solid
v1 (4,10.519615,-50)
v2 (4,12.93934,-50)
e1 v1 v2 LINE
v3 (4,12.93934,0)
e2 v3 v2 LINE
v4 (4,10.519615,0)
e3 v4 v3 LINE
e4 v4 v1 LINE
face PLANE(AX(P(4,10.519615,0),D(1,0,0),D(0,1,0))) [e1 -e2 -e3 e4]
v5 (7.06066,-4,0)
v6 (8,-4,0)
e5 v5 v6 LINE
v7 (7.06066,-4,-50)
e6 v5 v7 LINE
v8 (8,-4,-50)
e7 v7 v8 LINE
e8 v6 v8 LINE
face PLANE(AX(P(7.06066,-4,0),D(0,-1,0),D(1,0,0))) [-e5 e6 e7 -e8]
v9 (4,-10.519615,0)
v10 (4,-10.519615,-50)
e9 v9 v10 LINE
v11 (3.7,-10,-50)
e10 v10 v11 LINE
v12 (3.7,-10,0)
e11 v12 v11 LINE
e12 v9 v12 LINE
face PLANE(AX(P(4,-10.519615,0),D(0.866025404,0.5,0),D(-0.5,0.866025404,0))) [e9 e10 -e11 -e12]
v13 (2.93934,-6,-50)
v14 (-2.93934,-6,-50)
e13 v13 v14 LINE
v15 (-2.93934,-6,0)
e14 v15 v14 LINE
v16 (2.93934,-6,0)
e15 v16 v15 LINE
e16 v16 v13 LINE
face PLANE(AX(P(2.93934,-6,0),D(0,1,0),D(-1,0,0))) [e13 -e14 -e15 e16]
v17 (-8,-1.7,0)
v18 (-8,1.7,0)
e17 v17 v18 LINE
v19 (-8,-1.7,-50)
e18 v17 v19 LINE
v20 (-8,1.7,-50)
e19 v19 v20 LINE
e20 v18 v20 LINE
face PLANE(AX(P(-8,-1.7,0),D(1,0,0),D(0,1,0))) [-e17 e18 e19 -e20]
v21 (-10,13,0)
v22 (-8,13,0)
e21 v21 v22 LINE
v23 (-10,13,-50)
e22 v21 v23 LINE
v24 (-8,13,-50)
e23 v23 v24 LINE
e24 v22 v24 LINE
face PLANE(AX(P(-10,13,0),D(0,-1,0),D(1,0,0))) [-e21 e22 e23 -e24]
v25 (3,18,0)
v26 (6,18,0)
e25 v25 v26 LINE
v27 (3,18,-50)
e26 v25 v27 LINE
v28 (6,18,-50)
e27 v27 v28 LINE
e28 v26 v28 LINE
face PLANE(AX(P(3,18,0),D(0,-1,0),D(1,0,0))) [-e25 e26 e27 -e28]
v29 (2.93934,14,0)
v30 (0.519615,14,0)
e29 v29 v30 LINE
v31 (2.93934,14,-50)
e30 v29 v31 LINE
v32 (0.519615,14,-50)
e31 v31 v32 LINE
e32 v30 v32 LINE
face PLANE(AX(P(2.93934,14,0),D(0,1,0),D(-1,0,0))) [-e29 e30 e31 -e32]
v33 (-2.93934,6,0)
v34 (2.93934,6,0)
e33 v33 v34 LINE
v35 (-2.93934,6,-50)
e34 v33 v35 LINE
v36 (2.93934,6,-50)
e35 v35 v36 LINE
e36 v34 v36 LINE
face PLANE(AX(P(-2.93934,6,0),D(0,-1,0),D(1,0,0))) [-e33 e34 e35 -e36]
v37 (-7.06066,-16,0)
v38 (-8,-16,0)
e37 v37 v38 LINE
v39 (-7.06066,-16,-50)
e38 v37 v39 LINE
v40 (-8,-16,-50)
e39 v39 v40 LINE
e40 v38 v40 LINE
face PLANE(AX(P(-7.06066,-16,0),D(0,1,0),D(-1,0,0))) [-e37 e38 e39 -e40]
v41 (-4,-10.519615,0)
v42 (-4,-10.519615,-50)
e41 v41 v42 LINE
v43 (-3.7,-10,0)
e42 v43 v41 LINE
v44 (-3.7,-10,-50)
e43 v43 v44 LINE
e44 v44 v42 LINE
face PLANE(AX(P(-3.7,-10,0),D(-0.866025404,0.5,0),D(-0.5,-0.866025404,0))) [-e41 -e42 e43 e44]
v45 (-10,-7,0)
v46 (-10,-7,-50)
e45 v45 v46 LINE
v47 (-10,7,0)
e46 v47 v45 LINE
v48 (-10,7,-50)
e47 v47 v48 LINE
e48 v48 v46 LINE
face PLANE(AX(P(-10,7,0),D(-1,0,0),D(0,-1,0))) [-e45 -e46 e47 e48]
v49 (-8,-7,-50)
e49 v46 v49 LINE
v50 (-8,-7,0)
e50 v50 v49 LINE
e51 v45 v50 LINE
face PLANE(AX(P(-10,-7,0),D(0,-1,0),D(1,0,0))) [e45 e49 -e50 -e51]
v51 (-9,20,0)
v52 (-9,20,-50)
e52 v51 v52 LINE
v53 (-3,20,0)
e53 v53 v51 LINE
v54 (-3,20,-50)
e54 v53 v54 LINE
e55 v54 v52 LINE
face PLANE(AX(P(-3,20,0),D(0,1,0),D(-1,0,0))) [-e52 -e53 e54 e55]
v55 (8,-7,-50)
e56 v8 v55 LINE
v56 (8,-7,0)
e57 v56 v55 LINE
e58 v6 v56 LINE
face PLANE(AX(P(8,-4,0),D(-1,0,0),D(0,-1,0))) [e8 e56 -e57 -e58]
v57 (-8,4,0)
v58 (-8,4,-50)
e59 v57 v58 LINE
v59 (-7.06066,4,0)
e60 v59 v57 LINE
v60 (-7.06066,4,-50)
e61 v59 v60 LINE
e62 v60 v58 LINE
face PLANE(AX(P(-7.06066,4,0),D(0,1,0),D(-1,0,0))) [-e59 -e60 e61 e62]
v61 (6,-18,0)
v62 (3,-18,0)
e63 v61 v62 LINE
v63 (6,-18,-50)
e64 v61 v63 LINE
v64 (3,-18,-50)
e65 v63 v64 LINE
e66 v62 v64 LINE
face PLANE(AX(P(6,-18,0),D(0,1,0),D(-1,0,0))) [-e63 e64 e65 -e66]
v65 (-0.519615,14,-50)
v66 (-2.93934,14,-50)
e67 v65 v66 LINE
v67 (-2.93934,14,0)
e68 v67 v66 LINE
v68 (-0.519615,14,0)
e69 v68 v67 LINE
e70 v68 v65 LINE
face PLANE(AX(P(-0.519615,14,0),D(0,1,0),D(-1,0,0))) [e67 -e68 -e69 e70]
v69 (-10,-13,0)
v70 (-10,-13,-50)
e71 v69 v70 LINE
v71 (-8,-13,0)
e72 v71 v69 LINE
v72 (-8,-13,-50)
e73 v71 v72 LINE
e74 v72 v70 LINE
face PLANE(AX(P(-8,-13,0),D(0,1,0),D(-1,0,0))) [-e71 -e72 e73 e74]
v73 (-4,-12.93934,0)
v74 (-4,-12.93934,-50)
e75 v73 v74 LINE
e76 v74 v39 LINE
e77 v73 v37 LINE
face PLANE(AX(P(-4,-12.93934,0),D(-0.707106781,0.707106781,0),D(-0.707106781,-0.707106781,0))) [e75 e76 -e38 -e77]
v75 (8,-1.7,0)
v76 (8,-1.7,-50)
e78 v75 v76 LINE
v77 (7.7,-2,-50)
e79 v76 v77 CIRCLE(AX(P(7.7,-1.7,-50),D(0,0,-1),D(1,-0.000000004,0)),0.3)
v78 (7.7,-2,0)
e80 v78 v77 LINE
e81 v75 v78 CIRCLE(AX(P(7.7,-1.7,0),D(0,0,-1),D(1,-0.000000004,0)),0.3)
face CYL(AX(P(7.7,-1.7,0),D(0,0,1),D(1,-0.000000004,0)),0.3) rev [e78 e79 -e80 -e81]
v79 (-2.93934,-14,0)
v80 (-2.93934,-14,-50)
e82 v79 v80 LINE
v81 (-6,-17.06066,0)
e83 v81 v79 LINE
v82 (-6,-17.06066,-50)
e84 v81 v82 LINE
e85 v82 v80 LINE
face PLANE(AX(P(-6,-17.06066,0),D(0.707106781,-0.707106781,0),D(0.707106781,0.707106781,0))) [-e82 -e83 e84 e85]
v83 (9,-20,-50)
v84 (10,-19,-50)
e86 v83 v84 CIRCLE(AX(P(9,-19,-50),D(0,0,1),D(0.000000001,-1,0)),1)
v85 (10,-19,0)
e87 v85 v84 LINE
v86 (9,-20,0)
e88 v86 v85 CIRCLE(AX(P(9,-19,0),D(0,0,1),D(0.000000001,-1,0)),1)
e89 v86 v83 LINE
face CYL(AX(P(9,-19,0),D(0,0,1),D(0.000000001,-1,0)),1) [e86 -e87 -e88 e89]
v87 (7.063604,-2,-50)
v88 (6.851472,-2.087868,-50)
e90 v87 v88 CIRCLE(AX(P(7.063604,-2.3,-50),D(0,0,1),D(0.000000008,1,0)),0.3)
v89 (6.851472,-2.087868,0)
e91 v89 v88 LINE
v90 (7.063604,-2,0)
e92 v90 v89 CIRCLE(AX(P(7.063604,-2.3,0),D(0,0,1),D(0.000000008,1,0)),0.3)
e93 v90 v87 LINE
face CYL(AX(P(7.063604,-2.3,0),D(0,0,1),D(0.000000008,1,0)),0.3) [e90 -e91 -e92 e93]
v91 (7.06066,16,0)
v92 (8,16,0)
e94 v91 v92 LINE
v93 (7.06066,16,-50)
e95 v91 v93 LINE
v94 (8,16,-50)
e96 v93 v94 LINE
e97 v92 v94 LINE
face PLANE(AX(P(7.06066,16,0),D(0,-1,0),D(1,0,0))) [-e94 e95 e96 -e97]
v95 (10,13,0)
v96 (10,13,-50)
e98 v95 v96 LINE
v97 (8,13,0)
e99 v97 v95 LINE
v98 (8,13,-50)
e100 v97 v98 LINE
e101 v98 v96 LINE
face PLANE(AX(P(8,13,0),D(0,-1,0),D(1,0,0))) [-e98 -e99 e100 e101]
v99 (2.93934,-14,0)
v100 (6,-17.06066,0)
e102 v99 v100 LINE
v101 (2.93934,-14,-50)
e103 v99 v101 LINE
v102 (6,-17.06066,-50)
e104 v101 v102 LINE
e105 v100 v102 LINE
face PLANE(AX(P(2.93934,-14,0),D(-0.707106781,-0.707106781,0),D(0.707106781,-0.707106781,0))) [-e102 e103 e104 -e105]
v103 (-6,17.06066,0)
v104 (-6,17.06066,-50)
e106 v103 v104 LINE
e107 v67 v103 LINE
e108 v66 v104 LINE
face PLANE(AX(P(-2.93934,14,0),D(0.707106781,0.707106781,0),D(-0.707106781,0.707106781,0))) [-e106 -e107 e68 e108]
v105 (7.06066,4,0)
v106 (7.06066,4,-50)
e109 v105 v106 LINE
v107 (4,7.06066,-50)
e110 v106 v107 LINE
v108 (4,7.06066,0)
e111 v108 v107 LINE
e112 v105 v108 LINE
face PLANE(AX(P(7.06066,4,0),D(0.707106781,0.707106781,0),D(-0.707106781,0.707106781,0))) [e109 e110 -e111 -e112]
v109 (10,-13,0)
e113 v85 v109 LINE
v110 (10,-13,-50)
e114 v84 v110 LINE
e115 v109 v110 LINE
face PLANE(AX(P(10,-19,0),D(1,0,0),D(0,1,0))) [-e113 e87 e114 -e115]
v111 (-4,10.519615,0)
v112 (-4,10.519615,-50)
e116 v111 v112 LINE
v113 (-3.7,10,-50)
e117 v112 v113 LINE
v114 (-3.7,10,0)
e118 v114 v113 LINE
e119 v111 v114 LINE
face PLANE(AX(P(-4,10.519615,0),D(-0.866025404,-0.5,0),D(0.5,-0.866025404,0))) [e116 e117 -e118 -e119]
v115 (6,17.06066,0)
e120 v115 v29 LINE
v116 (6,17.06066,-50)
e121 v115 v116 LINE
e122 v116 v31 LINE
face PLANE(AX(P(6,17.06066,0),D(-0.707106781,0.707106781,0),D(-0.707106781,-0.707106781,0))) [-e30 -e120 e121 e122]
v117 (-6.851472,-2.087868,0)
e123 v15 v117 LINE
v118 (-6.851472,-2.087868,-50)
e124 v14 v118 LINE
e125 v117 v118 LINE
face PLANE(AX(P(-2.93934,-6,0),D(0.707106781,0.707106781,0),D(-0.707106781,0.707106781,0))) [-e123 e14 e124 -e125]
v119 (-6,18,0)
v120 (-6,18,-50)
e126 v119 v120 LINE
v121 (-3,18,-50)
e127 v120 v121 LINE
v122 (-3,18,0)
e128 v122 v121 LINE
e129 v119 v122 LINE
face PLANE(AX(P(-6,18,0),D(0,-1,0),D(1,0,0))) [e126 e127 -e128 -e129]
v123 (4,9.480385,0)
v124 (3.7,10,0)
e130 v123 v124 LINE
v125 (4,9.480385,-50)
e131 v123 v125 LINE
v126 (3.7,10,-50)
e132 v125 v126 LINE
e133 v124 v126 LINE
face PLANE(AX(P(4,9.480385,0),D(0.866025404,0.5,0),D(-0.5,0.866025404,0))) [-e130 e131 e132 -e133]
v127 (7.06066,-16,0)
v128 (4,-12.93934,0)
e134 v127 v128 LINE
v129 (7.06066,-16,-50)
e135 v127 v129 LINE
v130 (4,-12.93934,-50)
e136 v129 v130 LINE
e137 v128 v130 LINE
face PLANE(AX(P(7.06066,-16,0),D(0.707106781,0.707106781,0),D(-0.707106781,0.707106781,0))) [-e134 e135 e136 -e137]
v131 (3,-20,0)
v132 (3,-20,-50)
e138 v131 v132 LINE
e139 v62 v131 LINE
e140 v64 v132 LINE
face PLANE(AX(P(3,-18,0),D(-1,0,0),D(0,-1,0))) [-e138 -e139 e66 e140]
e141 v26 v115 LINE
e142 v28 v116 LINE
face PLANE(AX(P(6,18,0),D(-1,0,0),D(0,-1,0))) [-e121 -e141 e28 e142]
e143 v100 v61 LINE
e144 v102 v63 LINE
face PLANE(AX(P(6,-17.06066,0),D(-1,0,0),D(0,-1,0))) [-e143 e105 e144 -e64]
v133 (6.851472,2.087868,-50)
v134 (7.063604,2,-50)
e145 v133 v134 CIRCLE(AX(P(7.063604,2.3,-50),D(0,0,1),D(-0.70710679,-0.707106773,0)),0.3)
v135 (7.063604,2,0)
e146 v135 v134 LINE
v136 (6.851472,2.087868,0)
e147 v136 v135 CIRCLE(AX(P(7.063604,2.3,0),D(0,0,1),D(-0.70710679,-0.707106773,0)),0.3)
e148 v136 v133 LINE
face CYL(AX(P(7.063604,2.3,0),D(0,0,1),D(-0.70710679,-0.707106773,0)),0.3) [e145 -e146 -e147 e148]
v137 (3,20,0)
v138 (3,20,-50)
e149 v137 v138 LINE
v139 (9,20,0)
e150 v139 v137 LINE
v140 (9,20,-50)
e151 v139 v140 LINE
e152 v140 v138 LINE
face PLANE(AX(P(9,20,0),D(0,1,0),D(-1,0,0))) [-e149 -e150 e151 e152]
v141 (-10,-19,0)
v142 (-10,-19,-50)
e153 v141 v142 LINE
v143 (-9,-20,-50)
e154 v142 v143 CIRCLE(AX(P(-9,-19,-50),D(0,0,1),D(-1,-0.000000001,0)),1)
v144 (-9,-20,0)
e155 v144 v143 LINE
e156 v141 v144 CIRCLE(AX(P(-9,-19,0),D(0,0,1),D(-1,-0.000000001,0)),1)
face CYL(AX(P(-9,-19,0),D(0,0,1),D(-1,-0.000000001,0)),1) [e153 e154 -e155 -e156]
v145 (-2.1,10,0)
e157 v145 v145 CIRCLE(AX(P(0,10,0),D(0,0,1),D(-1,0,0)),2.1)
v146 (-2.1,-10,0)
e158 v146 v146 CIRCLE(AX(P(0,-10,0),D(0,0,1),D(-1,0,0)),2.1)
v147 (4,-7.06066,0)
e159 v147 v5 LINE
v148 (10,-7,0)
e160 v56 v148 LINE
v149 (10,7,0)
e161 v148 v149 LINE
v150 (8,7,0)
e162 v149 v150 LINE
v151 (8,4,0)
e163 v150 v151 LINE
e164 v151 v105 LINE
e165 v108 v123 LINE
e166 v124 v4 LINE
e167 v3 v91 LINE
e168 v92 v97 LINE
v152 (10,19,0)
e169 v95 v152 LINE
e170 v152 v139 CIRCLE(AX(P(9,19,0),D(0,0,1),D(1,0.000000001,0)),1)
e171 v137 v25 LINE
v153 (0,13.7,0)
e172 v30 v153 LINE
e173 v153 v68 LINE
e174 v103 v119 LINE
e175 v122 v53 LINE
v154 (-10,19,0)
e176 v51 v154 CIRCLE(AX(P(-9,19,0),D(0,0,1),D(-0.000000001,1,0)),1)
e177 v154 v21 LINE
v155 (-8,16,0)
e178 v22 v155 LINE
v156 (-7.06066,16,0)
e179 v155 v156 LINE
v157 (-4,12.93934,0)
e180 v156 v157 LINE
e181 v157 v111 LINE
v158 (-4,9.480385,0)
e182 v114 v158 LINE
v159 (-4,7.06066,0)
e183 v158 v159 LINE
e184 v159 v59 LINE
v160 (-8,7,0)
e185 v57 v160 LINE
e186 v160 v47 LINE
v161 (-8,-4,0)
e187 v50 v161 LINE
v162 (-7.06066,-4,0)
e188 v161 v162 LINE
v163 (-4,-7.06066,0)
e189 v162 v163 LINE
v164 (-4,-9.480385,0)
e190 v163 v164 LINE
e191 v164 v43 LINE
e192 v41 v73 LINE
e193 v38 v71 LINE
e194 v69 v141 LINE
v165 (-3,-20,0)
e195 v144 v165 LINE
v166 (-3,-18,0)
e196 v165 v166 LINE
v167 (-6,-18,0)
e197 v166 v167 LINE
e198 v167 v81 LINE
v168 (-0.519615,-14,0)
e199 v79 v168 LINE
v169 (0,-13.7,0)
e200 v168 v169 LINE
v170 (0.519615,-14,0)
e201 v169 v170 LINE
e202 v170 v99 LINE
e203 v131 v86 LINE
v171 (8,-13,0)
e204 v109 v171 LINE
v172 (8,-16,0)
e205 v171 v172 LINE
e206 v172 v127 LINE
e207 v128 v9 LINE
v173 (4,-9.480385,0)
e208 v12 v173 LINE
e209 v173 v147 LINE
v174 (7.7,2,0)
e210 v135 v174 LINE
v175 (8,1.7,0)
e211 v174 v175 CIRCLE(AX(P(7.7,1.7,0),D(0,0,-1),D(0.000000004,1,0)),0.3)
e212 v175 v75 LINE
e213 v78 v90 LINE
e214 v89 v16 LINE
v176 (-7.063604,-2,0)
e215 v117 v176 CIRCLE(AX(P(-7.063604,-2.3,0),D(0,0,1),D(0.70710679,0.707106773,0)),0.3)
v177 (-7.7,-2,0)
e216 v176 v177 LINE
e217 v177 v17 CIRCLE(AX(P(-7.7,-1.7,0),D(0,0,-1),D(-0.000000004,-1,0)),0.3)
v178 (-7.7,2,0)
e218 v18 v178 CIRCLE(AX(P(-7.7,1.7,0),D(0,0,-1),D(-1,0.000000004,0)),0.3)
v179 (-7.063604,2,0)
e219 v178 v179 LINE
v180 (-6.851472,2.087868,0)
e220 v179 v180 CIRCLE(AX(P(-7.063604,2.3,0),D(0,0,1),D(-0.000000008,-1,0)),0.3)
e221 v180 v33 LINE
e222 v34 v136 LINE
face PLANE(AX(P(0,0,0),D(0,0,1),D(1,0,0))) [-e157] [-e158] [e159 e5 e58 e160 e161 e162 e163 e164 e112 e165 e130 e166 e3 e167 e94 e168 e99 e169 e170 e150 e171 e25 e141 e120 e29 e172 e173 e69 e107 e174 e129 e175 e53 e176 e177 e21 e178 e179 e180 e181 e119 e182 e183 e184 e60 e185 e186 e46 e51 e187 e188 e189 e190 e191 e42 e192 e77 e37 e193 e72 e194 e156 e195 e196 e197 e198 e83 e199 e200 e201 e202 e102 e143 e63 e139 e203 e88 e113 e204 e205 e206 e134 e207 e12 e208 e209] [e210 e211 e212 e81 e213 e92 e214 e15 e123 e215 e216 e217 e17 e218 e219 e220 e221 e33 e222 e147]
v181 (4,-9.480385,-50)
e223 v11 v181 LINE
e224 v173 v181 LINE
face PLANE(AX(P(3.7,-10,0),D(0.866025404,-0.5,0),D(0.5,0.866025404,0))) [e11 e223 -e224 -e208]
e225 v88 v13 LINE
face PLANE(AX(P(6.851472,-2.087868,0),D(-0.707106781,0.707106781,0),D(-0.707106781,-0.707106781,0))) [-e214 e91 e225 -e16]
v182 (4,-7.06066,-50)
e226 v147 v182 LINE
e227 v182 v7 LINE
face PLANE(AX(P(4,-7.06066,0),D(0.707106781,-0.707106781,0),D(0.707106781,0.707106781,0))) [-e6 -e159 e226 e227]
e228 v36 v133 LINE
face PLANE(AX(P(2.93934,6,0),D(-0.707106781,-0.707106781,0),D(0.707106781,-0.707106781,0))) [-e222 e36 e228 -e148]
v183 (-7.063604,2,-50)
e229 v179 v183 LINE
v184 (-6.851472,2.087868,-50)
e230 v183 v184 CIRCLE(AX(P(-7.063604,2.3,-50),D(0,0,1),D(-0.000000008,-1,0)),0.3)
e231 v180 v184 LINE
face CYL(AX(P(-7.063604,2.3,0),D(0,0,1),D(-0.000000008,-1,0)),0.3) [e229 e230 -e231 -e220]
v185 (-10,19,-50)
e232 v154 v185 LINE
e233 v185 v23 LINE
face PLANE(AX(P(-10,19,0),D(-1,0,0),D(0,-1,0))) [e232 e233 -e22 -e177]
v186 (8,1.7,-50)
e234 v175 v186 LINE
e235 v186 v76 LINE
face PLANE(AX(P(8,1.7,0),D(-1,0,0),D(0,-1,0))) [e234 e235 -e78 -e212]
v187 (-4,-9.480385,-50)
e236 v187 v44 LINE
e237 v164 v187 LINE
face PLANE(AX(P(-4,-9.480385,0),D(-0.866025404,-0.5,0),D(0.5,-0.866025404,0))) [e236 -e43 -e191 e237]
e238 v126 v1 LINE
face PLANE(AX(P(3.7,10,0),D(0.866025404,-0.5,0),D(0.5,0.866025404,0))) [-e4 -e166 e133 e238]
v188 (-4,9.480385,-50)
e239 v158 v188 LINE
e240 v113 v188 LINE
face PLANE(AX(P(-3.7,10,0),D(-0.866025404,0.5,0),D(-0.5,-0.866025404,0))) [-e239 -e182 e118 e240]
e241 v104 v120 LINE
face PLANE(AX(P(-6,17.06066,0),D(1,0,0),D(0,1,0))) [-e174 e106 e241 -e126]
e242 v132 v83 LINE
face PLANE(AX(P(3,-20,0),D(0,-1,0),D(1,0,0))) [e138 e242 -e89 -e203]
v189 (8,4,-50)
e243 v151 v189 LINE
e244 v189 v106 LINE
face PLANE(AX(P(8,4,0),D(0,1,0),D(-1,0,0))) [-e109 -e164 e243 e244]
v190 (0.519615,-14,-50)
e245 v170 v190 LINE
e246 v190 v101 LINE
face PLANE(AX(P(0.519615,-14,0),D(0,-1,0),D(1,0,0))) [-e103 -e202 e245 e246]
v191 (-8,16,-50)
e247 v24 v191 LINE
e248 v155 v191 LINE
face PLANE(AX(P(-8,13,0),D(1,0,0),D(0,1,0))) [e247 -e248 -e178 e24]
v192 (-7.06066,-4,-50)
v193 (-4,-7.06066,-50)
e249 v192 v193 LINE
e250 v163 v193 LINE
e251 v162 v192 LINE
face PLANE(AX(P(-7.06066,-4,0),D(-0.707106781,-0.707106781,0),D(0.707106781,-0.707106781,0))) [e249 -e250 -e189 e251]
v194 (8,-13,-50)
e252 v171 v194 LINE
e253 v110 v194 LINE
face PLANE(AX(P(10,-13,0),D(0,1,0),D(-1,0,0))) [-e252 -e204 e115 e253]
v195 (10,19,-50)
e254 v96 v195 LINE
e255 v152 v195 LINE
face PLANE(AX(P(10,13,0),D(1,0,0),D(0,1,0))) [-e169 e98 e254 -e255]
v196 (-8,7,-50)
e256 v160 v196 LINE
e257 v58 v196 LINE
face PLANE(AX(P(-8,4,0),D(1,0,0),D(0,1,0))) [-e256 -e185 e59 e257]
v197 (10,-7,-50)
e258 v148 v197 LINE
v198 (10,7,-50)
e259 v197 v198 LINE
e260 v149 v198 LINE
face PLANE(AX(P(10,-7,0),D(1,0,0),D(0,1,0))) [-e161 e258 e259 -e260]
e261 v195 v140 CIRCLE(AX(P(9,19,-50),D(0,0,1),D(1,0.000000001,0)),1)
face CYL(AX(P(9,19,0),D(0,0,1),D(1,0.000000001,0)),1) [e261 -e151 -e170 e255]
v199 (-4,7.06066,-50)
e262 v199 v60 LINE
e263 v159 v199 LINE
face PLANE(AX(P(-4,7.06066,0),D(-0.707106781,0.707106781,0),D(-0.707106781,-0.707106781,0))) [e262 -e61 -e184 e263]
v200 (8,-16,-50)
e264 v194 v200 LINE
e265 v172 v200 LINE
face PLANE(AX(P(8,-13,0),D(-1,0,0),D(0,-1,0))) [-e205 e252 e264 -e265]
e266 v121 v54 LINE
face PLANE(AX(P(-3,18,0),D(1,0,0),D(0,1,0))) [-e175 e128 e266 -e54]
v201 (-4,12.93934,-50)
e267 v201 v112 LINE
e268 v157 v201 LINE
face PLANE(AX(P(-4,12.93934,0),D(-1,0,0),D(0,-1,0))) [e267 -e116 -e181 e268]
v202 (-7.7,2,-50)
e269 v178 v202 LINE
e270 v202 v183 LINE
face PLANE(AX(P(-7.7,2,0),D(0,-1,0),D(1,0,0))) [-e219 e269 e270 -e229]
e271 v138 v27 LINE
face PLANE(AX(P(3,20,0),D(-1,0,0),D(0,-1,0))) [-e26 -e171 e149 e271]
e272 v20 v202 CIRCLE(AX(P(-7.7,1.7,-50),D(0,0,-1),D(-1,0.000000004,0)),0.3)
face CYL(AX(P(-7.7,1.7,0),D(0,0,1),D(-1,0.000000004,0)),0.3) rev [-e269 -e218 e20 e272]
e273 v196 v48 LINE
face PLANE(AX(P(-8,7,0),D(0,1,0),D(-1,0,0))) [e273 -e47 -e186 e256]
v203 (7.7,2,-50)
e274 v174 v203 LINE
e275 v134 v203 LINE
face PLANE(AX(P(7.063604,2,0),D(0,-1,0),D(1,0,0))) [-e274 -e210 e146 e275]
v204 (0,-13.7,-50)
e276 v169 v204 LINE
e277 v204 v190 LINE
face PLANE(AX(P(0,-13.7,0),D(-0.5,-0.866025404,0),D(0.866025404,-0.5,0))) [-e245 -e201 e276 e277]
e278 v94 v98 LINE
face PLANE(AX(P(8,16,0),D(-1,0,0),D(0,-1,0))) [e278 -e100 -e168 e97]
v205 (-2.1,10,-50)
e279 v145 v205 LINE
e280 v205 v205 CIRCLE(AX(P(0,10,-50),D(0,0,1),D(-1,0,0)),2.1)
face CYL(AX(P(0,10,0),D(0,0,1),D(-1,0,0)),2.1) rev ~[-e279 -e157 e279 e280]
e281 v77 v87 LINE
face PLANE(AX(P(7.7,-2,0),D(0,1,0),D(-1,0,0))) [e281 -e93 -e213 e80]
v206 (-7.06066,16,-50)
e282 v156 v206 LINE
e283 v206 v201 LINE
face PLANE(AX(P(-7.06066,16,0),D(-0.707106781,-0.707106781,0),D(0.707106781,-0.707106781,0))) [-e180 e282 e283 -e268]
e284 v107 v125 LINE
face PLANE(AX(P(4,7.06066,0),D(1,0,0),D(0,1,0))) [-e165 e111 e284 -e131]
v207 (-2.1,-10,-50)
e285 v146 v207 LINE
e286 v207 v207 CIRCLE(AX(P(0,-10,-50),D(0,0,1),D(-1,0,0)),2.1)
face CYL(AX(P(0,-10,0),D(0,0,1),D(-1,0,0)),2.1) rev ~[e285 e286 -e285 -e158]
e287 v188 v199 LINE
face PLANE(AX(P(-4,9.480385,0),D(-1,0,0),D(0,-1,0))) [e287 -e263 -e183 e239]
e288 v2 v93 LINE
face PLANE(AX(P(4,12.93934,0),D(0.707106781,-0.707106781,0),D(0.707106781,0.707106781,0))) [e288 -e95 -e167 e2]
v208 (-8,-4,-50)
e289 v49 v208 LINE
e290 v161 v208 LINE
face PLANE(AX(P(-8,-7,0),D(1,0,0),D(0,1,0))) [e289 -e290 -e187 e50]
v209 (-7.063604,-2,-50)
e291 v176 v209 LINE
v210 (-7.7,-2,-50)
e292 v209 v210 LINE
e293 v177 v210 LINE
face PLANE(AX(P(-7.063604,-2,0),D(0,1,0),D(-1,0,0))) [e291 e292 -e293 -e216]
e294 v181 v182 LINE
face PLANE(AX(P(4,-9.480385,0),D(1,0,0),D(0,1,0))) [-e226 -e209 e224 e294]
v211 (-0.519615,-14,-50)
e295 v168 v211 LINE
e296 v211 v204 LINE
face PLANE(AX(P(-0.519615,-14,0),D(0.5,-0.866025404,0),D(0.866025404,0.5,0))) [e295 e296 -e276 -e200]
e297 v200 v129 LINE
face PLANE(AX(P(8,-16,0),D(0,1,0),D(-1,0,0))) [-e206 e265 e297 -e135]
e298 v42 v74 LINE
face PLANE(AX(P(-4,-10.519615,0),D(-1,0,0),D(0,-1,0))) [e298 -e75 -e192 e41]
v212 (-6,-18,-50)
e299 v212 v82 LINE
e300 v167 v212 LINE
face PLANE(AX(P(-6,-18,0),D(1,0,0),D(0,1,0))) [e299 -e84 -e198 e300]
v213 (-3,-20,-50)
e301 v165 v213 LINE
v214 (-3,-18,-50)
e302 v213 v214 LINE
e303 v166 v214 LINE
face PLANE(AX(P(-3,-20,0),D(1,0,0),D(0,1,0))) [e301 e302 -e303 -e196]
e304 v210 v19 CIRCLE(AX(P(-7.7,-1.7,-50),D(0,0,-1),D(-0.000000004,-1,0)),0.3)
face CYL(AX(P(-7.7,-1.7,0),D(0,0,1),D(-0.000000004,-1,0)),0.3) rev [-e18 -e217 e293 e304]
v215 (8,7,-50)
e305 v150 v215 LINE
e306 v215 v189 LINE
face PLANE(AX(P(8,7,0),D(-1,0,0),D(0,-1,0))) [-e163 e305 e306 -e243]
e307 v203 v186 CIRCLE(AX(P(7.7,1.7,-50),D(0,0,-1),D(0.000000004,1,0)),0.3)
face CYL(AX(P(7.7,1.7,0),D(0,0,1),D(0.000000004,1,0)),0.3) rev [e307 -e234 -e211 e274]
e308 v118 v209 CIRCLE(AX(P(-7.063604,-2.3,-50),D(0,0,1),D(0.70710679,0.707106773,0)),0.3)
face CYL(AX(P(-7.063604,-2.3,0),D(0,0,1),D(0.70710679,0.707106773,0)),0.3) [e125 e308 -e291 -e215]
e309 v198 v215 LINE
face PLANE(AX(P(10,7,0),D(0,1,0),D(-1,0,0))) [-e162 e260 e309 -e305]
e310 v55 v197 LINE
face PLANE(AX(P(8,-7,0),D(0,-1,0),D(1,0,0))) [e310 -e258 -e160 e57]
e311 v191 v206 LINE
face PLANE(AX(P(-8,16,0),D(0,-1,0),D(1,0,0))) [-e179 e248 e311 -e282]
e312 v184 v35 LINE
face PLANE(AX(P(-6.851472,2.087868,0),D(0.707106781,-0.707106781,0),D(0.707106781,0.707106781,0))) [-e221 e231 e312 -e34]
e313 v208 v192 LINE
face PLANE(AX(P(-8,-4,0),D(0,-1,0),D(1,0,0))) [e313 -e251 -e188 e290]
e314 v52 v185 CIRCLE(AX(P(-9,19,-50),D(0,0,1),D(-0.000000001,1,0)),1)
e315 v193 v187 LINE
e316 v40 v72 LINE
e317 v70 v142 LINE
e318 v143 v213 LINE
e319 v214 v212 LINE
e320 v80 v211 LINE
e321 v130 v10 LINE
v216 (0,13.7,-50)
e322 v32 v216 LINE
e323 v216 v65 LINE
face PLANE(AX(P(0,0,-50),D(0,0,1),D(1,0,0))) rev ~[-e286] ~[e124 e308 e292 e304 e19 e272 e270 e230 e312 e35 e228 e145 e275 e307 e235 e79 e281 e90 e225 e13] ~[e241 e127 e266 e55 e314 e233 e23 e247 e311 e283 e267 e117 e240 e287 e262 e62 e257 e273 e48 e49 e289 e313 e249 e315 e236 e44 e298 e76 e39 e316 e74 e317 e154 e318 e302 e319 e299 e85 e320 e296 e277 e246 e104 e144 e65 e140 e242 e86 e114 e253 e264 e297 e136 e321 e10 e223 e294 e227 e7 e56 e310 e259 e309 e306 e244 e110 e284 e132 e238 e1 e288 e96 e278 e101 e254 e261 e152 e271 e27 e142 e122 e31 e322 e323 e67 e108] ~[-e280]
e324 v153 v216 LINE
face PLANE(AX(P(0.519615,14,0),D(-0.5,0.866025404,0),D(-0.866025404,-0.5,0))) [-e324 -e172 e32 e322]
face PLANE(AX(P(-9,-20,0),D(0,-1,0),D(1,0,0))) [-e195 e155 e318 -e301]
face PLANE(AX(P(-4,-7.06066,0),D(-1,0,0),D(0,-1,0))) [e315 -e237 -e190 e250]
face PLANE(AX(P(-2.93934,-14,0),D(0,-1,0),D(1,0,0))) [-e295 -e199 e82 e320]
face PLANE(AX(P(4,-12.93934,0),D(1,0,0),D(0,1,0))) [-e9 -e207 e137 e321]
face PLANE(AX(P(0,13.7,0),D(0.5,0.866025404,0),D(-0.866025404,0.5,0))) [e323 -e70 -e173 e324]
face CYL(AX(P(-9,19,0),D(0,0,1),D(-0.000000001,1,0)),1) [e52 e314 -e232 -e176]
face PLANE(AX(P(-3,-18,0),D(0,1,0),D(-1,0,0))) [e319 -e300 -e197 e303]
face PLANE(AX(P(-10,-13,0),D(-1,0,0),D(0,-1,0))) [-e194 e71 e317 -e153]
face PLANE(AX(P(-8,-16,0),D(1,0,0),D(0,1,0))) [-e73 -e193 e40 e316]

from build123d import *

# Parameters (mm, degrees)
SKETCH1_R           = 2.1
BOSS_EXTRUDE1_DEPTH = 50


with BuildPart() as part:
    # Sketch1 → Boss-Extrude1 (new body)
    with BuildSketch(Plane.XY):
        with BuildLine():
            Line((-8, -16), (-8, -13))
            Line((-8, -13), (-10, -13))
            Line((-10, -13), (-10, -19))
            ThreePointArc((-10, -19), (-9.707106781, -19.707106781), (-9, -20))
            Line((-9, -20), (-3, -20))
            Line((-3, -20), (-3, -18))
            Line((-3, -18), (-6, -18))
            Line((-6, -18), (-6, -17.060660172))
            Line((-6, -17.060660172), (-2.939339828, -14))
            Line((-2.939339828, -14), (-0.519615242, -14))
            Line((-0.519615242, -14), (0, -13.7))
            Line((0, -13.7), (0.519615242, -14))
            Line((0.519615242, -14), (2.939339828, -14))
            Line((2.939339828, -14), (6, -17.060660172))
            Line((6, -17.060660172), (6, -18))
            Line((6, -18), (3, -18))
            Line((3, -18), (3, -20))
            Line((3, -20), (9, -20))
            ThreePointArc((9, -20), (9.707106781, -19.707106781), (10, -19))
            Line((10, -19), (10, -13))
            Line((10, -13), (8, -13))
            Line((8, -13), (8, -16))
            Line((8, -16), (7.060660172, -16))
            Line((7.060660172, -16), (4, -12.939339828))
            Line((4, -12.939339828), (4, -10.519615242))
            Line((4, -10.519615242), (3.7, -10))
            Line((3.7, -10), (4, -9.480384758))
            Line((4, -9.480384758), (4, -7.060660172))
            Line((4, -7.060660172), (7.060660172, -4))
            Line((7.060660172, -4), (8, -4))
            Line((8, -4), (8, -7))
            Line((8, -7), (10, -7))
            Line((10, -7), (10, 7))
            Line((10, 7), (8, 7))
            Line((8, 7), (8, 4))
            Line((8, 4), (7.060660172, 4))
            Line((7.060660172, 4), (4, 7.060660172))
            Line((4, 7.060660172), (4, 9.480384758))
            Line((4, 9.480384758), (3.7, 10))
            Line((3.7, 10), (4, 10.519615242))
            Line((4, 10.519615242), (4, 12.939339828))
            Line((4, 12.939339828), (7.060660172, 16))
            Line((7.060660172, 16), (8, 16))
            Line((8, 16), (8, 13))
            Line((8, 13), (10, 13))
            Line((10, 13), (10, 19))
            ThreePointArc((10, 19), (9.707106781, 19.707106781), (9, 20))
            Line((9, 20), (3, 20))
            Line((3, 20), (3, 18))
            Line((3, 18), (6, 18))
            Line((6, 18), (6, 17.060660172))
            Line((6, 17.060660172), (2.939339828, 14))
            Line((2.939339828, 14), (0.519615242, 14))
            Line((0.519615242, 14), (0, 13.7))
            Line((0, 13.7), (-0.519615242, 14))
            Line((-0.519615242, 14), (-2.939339828, 14))
            Line((-2.939339828, 14), (-6, 17.060660172))
            Line((-6, 17.060660172), (-6, 18))
            Line((-6, 18), (-3, 18))
            Line((-3, 18), (-3, 20))
            Line((-3, 20), (-9, 20))
            ThreePointArc((-9, 20), (-9.707106781, 19.707106781), (-10, 19))
            Line((-10, 19), (-10, 13))
            Line((-10, 13), (-8, 13))
            Line((-8, 13), (-8, 16))
            Line((-8, 16), (-7.060660172, 16))
            Line((-7.060660172, 16), (-4, 12.939339828))
            Line((-4, 12.939339828), (-4, 10.519615242))
            Line((-4, 10.519615242), (-3.7, 10))
            Line((-3.7, 10), (-4, 9.480384758))
            Line((-4, 9.480384758), (-4, 7.060660172))
            Line((-4, 7.060660172), (-7.060660172, 4))
            Line((-7.060660172, 4), (-8, 4))
            Line((-8, 4), (-8, 7))
            Line((-8, 7), (-10, 7))
            Line((-10, 7), (-10, -7))
            Line((-10, -7), (-8, -7))
            Line((-8, -7), (-8, -4))
            Line((-8, -4), (-7.060660172, -4))
            Line((-7.060660172, -4), (-4, -7.060660172))
            Line((-4, -7.060660172), (-4, -9.480384758))
            Line((-4, -9.480384758), (-3.7, -10))
            Line((-3.7, -10), (-4, -10.519615242))
            Line((-4, -10.519615242), (-4, -12.939339828))
            Line((-4, -12.939339828), (-7.060660172, -16))
            Line((-7.060660172, -16), (-8, -16))
        make_face()
        with Locations(Location((0, -10, 0), (0, 0, 180))):
            Circle(SKETCH1_R, mode=Mode.SUBTRACT)
        with Locations(Location((0, 10, 0), (0, 0, 180))):
            Circle(SKETCH1_R, mode=Mode.SUBTRACT)
        with BuildLine():
            Line((-7.063603897, -2), (-7.7, -2))
            ThreePointArc((-7.7, -2), (-7.912132034, -1.912132034), (-8, -1.7))
            Line((-8, -1.7), (-8, 1.7))
            ThreePointArc((-8, 1.7), (-7.912132034, 1.912132034), (-7.7, 2))
            Line((-7.7, 2), (-7.063603897, 2))
            ThreePointArc((-7.063603897, 2), (-6.948798867, 2.02283614), (-6.851471863, 2.087867966))
            Line((-6.851471863, 2.087867966), (-2.939339828, 6))
            Line((-2.939339828, 6), (2.939339828, 6))
            Line((2.939339828, 6), (6.851471863, 2.087867966))
            ThreePointArc((6.851471863, 2.087867966), (6.948798867, 2.02283614), (7.063603897, 2))
            Line((7.063603897, 2), (7.7, 2))
            ThreePointArc((7.7, 2), (7.912132034, 1.912132034), (8, 1.7))
            Line((8, 1.7), (8, -1.7))
            ThreePointArc((8, -1.7), (7.912132034, -1.912132034), (7.7, -2))
            Line((7.7, -2), (7.063603897, -2))
            ThreePointArc((7.063603897, -2), (6.948798867, -2.02283614), (6.851471863, -2.087867966))
            Line((6.851471863, -2.087867966), (2.939339828, -6))
            Line((2.939339828, -6), (-2.939339828, -6))
            Line((-2.939339828, -6), (-6.851471863, -2.087867966))
            ThreePointArc((-6.851471863, -2.087867966), (-6.948798867, -2.02283614), (-7.063603897, -2))
        make_face(mode=Mode.SUBTRACT)
    extrude(amount=-BOSS_EXTRUDE1_DEPTH)


solid = part.part
